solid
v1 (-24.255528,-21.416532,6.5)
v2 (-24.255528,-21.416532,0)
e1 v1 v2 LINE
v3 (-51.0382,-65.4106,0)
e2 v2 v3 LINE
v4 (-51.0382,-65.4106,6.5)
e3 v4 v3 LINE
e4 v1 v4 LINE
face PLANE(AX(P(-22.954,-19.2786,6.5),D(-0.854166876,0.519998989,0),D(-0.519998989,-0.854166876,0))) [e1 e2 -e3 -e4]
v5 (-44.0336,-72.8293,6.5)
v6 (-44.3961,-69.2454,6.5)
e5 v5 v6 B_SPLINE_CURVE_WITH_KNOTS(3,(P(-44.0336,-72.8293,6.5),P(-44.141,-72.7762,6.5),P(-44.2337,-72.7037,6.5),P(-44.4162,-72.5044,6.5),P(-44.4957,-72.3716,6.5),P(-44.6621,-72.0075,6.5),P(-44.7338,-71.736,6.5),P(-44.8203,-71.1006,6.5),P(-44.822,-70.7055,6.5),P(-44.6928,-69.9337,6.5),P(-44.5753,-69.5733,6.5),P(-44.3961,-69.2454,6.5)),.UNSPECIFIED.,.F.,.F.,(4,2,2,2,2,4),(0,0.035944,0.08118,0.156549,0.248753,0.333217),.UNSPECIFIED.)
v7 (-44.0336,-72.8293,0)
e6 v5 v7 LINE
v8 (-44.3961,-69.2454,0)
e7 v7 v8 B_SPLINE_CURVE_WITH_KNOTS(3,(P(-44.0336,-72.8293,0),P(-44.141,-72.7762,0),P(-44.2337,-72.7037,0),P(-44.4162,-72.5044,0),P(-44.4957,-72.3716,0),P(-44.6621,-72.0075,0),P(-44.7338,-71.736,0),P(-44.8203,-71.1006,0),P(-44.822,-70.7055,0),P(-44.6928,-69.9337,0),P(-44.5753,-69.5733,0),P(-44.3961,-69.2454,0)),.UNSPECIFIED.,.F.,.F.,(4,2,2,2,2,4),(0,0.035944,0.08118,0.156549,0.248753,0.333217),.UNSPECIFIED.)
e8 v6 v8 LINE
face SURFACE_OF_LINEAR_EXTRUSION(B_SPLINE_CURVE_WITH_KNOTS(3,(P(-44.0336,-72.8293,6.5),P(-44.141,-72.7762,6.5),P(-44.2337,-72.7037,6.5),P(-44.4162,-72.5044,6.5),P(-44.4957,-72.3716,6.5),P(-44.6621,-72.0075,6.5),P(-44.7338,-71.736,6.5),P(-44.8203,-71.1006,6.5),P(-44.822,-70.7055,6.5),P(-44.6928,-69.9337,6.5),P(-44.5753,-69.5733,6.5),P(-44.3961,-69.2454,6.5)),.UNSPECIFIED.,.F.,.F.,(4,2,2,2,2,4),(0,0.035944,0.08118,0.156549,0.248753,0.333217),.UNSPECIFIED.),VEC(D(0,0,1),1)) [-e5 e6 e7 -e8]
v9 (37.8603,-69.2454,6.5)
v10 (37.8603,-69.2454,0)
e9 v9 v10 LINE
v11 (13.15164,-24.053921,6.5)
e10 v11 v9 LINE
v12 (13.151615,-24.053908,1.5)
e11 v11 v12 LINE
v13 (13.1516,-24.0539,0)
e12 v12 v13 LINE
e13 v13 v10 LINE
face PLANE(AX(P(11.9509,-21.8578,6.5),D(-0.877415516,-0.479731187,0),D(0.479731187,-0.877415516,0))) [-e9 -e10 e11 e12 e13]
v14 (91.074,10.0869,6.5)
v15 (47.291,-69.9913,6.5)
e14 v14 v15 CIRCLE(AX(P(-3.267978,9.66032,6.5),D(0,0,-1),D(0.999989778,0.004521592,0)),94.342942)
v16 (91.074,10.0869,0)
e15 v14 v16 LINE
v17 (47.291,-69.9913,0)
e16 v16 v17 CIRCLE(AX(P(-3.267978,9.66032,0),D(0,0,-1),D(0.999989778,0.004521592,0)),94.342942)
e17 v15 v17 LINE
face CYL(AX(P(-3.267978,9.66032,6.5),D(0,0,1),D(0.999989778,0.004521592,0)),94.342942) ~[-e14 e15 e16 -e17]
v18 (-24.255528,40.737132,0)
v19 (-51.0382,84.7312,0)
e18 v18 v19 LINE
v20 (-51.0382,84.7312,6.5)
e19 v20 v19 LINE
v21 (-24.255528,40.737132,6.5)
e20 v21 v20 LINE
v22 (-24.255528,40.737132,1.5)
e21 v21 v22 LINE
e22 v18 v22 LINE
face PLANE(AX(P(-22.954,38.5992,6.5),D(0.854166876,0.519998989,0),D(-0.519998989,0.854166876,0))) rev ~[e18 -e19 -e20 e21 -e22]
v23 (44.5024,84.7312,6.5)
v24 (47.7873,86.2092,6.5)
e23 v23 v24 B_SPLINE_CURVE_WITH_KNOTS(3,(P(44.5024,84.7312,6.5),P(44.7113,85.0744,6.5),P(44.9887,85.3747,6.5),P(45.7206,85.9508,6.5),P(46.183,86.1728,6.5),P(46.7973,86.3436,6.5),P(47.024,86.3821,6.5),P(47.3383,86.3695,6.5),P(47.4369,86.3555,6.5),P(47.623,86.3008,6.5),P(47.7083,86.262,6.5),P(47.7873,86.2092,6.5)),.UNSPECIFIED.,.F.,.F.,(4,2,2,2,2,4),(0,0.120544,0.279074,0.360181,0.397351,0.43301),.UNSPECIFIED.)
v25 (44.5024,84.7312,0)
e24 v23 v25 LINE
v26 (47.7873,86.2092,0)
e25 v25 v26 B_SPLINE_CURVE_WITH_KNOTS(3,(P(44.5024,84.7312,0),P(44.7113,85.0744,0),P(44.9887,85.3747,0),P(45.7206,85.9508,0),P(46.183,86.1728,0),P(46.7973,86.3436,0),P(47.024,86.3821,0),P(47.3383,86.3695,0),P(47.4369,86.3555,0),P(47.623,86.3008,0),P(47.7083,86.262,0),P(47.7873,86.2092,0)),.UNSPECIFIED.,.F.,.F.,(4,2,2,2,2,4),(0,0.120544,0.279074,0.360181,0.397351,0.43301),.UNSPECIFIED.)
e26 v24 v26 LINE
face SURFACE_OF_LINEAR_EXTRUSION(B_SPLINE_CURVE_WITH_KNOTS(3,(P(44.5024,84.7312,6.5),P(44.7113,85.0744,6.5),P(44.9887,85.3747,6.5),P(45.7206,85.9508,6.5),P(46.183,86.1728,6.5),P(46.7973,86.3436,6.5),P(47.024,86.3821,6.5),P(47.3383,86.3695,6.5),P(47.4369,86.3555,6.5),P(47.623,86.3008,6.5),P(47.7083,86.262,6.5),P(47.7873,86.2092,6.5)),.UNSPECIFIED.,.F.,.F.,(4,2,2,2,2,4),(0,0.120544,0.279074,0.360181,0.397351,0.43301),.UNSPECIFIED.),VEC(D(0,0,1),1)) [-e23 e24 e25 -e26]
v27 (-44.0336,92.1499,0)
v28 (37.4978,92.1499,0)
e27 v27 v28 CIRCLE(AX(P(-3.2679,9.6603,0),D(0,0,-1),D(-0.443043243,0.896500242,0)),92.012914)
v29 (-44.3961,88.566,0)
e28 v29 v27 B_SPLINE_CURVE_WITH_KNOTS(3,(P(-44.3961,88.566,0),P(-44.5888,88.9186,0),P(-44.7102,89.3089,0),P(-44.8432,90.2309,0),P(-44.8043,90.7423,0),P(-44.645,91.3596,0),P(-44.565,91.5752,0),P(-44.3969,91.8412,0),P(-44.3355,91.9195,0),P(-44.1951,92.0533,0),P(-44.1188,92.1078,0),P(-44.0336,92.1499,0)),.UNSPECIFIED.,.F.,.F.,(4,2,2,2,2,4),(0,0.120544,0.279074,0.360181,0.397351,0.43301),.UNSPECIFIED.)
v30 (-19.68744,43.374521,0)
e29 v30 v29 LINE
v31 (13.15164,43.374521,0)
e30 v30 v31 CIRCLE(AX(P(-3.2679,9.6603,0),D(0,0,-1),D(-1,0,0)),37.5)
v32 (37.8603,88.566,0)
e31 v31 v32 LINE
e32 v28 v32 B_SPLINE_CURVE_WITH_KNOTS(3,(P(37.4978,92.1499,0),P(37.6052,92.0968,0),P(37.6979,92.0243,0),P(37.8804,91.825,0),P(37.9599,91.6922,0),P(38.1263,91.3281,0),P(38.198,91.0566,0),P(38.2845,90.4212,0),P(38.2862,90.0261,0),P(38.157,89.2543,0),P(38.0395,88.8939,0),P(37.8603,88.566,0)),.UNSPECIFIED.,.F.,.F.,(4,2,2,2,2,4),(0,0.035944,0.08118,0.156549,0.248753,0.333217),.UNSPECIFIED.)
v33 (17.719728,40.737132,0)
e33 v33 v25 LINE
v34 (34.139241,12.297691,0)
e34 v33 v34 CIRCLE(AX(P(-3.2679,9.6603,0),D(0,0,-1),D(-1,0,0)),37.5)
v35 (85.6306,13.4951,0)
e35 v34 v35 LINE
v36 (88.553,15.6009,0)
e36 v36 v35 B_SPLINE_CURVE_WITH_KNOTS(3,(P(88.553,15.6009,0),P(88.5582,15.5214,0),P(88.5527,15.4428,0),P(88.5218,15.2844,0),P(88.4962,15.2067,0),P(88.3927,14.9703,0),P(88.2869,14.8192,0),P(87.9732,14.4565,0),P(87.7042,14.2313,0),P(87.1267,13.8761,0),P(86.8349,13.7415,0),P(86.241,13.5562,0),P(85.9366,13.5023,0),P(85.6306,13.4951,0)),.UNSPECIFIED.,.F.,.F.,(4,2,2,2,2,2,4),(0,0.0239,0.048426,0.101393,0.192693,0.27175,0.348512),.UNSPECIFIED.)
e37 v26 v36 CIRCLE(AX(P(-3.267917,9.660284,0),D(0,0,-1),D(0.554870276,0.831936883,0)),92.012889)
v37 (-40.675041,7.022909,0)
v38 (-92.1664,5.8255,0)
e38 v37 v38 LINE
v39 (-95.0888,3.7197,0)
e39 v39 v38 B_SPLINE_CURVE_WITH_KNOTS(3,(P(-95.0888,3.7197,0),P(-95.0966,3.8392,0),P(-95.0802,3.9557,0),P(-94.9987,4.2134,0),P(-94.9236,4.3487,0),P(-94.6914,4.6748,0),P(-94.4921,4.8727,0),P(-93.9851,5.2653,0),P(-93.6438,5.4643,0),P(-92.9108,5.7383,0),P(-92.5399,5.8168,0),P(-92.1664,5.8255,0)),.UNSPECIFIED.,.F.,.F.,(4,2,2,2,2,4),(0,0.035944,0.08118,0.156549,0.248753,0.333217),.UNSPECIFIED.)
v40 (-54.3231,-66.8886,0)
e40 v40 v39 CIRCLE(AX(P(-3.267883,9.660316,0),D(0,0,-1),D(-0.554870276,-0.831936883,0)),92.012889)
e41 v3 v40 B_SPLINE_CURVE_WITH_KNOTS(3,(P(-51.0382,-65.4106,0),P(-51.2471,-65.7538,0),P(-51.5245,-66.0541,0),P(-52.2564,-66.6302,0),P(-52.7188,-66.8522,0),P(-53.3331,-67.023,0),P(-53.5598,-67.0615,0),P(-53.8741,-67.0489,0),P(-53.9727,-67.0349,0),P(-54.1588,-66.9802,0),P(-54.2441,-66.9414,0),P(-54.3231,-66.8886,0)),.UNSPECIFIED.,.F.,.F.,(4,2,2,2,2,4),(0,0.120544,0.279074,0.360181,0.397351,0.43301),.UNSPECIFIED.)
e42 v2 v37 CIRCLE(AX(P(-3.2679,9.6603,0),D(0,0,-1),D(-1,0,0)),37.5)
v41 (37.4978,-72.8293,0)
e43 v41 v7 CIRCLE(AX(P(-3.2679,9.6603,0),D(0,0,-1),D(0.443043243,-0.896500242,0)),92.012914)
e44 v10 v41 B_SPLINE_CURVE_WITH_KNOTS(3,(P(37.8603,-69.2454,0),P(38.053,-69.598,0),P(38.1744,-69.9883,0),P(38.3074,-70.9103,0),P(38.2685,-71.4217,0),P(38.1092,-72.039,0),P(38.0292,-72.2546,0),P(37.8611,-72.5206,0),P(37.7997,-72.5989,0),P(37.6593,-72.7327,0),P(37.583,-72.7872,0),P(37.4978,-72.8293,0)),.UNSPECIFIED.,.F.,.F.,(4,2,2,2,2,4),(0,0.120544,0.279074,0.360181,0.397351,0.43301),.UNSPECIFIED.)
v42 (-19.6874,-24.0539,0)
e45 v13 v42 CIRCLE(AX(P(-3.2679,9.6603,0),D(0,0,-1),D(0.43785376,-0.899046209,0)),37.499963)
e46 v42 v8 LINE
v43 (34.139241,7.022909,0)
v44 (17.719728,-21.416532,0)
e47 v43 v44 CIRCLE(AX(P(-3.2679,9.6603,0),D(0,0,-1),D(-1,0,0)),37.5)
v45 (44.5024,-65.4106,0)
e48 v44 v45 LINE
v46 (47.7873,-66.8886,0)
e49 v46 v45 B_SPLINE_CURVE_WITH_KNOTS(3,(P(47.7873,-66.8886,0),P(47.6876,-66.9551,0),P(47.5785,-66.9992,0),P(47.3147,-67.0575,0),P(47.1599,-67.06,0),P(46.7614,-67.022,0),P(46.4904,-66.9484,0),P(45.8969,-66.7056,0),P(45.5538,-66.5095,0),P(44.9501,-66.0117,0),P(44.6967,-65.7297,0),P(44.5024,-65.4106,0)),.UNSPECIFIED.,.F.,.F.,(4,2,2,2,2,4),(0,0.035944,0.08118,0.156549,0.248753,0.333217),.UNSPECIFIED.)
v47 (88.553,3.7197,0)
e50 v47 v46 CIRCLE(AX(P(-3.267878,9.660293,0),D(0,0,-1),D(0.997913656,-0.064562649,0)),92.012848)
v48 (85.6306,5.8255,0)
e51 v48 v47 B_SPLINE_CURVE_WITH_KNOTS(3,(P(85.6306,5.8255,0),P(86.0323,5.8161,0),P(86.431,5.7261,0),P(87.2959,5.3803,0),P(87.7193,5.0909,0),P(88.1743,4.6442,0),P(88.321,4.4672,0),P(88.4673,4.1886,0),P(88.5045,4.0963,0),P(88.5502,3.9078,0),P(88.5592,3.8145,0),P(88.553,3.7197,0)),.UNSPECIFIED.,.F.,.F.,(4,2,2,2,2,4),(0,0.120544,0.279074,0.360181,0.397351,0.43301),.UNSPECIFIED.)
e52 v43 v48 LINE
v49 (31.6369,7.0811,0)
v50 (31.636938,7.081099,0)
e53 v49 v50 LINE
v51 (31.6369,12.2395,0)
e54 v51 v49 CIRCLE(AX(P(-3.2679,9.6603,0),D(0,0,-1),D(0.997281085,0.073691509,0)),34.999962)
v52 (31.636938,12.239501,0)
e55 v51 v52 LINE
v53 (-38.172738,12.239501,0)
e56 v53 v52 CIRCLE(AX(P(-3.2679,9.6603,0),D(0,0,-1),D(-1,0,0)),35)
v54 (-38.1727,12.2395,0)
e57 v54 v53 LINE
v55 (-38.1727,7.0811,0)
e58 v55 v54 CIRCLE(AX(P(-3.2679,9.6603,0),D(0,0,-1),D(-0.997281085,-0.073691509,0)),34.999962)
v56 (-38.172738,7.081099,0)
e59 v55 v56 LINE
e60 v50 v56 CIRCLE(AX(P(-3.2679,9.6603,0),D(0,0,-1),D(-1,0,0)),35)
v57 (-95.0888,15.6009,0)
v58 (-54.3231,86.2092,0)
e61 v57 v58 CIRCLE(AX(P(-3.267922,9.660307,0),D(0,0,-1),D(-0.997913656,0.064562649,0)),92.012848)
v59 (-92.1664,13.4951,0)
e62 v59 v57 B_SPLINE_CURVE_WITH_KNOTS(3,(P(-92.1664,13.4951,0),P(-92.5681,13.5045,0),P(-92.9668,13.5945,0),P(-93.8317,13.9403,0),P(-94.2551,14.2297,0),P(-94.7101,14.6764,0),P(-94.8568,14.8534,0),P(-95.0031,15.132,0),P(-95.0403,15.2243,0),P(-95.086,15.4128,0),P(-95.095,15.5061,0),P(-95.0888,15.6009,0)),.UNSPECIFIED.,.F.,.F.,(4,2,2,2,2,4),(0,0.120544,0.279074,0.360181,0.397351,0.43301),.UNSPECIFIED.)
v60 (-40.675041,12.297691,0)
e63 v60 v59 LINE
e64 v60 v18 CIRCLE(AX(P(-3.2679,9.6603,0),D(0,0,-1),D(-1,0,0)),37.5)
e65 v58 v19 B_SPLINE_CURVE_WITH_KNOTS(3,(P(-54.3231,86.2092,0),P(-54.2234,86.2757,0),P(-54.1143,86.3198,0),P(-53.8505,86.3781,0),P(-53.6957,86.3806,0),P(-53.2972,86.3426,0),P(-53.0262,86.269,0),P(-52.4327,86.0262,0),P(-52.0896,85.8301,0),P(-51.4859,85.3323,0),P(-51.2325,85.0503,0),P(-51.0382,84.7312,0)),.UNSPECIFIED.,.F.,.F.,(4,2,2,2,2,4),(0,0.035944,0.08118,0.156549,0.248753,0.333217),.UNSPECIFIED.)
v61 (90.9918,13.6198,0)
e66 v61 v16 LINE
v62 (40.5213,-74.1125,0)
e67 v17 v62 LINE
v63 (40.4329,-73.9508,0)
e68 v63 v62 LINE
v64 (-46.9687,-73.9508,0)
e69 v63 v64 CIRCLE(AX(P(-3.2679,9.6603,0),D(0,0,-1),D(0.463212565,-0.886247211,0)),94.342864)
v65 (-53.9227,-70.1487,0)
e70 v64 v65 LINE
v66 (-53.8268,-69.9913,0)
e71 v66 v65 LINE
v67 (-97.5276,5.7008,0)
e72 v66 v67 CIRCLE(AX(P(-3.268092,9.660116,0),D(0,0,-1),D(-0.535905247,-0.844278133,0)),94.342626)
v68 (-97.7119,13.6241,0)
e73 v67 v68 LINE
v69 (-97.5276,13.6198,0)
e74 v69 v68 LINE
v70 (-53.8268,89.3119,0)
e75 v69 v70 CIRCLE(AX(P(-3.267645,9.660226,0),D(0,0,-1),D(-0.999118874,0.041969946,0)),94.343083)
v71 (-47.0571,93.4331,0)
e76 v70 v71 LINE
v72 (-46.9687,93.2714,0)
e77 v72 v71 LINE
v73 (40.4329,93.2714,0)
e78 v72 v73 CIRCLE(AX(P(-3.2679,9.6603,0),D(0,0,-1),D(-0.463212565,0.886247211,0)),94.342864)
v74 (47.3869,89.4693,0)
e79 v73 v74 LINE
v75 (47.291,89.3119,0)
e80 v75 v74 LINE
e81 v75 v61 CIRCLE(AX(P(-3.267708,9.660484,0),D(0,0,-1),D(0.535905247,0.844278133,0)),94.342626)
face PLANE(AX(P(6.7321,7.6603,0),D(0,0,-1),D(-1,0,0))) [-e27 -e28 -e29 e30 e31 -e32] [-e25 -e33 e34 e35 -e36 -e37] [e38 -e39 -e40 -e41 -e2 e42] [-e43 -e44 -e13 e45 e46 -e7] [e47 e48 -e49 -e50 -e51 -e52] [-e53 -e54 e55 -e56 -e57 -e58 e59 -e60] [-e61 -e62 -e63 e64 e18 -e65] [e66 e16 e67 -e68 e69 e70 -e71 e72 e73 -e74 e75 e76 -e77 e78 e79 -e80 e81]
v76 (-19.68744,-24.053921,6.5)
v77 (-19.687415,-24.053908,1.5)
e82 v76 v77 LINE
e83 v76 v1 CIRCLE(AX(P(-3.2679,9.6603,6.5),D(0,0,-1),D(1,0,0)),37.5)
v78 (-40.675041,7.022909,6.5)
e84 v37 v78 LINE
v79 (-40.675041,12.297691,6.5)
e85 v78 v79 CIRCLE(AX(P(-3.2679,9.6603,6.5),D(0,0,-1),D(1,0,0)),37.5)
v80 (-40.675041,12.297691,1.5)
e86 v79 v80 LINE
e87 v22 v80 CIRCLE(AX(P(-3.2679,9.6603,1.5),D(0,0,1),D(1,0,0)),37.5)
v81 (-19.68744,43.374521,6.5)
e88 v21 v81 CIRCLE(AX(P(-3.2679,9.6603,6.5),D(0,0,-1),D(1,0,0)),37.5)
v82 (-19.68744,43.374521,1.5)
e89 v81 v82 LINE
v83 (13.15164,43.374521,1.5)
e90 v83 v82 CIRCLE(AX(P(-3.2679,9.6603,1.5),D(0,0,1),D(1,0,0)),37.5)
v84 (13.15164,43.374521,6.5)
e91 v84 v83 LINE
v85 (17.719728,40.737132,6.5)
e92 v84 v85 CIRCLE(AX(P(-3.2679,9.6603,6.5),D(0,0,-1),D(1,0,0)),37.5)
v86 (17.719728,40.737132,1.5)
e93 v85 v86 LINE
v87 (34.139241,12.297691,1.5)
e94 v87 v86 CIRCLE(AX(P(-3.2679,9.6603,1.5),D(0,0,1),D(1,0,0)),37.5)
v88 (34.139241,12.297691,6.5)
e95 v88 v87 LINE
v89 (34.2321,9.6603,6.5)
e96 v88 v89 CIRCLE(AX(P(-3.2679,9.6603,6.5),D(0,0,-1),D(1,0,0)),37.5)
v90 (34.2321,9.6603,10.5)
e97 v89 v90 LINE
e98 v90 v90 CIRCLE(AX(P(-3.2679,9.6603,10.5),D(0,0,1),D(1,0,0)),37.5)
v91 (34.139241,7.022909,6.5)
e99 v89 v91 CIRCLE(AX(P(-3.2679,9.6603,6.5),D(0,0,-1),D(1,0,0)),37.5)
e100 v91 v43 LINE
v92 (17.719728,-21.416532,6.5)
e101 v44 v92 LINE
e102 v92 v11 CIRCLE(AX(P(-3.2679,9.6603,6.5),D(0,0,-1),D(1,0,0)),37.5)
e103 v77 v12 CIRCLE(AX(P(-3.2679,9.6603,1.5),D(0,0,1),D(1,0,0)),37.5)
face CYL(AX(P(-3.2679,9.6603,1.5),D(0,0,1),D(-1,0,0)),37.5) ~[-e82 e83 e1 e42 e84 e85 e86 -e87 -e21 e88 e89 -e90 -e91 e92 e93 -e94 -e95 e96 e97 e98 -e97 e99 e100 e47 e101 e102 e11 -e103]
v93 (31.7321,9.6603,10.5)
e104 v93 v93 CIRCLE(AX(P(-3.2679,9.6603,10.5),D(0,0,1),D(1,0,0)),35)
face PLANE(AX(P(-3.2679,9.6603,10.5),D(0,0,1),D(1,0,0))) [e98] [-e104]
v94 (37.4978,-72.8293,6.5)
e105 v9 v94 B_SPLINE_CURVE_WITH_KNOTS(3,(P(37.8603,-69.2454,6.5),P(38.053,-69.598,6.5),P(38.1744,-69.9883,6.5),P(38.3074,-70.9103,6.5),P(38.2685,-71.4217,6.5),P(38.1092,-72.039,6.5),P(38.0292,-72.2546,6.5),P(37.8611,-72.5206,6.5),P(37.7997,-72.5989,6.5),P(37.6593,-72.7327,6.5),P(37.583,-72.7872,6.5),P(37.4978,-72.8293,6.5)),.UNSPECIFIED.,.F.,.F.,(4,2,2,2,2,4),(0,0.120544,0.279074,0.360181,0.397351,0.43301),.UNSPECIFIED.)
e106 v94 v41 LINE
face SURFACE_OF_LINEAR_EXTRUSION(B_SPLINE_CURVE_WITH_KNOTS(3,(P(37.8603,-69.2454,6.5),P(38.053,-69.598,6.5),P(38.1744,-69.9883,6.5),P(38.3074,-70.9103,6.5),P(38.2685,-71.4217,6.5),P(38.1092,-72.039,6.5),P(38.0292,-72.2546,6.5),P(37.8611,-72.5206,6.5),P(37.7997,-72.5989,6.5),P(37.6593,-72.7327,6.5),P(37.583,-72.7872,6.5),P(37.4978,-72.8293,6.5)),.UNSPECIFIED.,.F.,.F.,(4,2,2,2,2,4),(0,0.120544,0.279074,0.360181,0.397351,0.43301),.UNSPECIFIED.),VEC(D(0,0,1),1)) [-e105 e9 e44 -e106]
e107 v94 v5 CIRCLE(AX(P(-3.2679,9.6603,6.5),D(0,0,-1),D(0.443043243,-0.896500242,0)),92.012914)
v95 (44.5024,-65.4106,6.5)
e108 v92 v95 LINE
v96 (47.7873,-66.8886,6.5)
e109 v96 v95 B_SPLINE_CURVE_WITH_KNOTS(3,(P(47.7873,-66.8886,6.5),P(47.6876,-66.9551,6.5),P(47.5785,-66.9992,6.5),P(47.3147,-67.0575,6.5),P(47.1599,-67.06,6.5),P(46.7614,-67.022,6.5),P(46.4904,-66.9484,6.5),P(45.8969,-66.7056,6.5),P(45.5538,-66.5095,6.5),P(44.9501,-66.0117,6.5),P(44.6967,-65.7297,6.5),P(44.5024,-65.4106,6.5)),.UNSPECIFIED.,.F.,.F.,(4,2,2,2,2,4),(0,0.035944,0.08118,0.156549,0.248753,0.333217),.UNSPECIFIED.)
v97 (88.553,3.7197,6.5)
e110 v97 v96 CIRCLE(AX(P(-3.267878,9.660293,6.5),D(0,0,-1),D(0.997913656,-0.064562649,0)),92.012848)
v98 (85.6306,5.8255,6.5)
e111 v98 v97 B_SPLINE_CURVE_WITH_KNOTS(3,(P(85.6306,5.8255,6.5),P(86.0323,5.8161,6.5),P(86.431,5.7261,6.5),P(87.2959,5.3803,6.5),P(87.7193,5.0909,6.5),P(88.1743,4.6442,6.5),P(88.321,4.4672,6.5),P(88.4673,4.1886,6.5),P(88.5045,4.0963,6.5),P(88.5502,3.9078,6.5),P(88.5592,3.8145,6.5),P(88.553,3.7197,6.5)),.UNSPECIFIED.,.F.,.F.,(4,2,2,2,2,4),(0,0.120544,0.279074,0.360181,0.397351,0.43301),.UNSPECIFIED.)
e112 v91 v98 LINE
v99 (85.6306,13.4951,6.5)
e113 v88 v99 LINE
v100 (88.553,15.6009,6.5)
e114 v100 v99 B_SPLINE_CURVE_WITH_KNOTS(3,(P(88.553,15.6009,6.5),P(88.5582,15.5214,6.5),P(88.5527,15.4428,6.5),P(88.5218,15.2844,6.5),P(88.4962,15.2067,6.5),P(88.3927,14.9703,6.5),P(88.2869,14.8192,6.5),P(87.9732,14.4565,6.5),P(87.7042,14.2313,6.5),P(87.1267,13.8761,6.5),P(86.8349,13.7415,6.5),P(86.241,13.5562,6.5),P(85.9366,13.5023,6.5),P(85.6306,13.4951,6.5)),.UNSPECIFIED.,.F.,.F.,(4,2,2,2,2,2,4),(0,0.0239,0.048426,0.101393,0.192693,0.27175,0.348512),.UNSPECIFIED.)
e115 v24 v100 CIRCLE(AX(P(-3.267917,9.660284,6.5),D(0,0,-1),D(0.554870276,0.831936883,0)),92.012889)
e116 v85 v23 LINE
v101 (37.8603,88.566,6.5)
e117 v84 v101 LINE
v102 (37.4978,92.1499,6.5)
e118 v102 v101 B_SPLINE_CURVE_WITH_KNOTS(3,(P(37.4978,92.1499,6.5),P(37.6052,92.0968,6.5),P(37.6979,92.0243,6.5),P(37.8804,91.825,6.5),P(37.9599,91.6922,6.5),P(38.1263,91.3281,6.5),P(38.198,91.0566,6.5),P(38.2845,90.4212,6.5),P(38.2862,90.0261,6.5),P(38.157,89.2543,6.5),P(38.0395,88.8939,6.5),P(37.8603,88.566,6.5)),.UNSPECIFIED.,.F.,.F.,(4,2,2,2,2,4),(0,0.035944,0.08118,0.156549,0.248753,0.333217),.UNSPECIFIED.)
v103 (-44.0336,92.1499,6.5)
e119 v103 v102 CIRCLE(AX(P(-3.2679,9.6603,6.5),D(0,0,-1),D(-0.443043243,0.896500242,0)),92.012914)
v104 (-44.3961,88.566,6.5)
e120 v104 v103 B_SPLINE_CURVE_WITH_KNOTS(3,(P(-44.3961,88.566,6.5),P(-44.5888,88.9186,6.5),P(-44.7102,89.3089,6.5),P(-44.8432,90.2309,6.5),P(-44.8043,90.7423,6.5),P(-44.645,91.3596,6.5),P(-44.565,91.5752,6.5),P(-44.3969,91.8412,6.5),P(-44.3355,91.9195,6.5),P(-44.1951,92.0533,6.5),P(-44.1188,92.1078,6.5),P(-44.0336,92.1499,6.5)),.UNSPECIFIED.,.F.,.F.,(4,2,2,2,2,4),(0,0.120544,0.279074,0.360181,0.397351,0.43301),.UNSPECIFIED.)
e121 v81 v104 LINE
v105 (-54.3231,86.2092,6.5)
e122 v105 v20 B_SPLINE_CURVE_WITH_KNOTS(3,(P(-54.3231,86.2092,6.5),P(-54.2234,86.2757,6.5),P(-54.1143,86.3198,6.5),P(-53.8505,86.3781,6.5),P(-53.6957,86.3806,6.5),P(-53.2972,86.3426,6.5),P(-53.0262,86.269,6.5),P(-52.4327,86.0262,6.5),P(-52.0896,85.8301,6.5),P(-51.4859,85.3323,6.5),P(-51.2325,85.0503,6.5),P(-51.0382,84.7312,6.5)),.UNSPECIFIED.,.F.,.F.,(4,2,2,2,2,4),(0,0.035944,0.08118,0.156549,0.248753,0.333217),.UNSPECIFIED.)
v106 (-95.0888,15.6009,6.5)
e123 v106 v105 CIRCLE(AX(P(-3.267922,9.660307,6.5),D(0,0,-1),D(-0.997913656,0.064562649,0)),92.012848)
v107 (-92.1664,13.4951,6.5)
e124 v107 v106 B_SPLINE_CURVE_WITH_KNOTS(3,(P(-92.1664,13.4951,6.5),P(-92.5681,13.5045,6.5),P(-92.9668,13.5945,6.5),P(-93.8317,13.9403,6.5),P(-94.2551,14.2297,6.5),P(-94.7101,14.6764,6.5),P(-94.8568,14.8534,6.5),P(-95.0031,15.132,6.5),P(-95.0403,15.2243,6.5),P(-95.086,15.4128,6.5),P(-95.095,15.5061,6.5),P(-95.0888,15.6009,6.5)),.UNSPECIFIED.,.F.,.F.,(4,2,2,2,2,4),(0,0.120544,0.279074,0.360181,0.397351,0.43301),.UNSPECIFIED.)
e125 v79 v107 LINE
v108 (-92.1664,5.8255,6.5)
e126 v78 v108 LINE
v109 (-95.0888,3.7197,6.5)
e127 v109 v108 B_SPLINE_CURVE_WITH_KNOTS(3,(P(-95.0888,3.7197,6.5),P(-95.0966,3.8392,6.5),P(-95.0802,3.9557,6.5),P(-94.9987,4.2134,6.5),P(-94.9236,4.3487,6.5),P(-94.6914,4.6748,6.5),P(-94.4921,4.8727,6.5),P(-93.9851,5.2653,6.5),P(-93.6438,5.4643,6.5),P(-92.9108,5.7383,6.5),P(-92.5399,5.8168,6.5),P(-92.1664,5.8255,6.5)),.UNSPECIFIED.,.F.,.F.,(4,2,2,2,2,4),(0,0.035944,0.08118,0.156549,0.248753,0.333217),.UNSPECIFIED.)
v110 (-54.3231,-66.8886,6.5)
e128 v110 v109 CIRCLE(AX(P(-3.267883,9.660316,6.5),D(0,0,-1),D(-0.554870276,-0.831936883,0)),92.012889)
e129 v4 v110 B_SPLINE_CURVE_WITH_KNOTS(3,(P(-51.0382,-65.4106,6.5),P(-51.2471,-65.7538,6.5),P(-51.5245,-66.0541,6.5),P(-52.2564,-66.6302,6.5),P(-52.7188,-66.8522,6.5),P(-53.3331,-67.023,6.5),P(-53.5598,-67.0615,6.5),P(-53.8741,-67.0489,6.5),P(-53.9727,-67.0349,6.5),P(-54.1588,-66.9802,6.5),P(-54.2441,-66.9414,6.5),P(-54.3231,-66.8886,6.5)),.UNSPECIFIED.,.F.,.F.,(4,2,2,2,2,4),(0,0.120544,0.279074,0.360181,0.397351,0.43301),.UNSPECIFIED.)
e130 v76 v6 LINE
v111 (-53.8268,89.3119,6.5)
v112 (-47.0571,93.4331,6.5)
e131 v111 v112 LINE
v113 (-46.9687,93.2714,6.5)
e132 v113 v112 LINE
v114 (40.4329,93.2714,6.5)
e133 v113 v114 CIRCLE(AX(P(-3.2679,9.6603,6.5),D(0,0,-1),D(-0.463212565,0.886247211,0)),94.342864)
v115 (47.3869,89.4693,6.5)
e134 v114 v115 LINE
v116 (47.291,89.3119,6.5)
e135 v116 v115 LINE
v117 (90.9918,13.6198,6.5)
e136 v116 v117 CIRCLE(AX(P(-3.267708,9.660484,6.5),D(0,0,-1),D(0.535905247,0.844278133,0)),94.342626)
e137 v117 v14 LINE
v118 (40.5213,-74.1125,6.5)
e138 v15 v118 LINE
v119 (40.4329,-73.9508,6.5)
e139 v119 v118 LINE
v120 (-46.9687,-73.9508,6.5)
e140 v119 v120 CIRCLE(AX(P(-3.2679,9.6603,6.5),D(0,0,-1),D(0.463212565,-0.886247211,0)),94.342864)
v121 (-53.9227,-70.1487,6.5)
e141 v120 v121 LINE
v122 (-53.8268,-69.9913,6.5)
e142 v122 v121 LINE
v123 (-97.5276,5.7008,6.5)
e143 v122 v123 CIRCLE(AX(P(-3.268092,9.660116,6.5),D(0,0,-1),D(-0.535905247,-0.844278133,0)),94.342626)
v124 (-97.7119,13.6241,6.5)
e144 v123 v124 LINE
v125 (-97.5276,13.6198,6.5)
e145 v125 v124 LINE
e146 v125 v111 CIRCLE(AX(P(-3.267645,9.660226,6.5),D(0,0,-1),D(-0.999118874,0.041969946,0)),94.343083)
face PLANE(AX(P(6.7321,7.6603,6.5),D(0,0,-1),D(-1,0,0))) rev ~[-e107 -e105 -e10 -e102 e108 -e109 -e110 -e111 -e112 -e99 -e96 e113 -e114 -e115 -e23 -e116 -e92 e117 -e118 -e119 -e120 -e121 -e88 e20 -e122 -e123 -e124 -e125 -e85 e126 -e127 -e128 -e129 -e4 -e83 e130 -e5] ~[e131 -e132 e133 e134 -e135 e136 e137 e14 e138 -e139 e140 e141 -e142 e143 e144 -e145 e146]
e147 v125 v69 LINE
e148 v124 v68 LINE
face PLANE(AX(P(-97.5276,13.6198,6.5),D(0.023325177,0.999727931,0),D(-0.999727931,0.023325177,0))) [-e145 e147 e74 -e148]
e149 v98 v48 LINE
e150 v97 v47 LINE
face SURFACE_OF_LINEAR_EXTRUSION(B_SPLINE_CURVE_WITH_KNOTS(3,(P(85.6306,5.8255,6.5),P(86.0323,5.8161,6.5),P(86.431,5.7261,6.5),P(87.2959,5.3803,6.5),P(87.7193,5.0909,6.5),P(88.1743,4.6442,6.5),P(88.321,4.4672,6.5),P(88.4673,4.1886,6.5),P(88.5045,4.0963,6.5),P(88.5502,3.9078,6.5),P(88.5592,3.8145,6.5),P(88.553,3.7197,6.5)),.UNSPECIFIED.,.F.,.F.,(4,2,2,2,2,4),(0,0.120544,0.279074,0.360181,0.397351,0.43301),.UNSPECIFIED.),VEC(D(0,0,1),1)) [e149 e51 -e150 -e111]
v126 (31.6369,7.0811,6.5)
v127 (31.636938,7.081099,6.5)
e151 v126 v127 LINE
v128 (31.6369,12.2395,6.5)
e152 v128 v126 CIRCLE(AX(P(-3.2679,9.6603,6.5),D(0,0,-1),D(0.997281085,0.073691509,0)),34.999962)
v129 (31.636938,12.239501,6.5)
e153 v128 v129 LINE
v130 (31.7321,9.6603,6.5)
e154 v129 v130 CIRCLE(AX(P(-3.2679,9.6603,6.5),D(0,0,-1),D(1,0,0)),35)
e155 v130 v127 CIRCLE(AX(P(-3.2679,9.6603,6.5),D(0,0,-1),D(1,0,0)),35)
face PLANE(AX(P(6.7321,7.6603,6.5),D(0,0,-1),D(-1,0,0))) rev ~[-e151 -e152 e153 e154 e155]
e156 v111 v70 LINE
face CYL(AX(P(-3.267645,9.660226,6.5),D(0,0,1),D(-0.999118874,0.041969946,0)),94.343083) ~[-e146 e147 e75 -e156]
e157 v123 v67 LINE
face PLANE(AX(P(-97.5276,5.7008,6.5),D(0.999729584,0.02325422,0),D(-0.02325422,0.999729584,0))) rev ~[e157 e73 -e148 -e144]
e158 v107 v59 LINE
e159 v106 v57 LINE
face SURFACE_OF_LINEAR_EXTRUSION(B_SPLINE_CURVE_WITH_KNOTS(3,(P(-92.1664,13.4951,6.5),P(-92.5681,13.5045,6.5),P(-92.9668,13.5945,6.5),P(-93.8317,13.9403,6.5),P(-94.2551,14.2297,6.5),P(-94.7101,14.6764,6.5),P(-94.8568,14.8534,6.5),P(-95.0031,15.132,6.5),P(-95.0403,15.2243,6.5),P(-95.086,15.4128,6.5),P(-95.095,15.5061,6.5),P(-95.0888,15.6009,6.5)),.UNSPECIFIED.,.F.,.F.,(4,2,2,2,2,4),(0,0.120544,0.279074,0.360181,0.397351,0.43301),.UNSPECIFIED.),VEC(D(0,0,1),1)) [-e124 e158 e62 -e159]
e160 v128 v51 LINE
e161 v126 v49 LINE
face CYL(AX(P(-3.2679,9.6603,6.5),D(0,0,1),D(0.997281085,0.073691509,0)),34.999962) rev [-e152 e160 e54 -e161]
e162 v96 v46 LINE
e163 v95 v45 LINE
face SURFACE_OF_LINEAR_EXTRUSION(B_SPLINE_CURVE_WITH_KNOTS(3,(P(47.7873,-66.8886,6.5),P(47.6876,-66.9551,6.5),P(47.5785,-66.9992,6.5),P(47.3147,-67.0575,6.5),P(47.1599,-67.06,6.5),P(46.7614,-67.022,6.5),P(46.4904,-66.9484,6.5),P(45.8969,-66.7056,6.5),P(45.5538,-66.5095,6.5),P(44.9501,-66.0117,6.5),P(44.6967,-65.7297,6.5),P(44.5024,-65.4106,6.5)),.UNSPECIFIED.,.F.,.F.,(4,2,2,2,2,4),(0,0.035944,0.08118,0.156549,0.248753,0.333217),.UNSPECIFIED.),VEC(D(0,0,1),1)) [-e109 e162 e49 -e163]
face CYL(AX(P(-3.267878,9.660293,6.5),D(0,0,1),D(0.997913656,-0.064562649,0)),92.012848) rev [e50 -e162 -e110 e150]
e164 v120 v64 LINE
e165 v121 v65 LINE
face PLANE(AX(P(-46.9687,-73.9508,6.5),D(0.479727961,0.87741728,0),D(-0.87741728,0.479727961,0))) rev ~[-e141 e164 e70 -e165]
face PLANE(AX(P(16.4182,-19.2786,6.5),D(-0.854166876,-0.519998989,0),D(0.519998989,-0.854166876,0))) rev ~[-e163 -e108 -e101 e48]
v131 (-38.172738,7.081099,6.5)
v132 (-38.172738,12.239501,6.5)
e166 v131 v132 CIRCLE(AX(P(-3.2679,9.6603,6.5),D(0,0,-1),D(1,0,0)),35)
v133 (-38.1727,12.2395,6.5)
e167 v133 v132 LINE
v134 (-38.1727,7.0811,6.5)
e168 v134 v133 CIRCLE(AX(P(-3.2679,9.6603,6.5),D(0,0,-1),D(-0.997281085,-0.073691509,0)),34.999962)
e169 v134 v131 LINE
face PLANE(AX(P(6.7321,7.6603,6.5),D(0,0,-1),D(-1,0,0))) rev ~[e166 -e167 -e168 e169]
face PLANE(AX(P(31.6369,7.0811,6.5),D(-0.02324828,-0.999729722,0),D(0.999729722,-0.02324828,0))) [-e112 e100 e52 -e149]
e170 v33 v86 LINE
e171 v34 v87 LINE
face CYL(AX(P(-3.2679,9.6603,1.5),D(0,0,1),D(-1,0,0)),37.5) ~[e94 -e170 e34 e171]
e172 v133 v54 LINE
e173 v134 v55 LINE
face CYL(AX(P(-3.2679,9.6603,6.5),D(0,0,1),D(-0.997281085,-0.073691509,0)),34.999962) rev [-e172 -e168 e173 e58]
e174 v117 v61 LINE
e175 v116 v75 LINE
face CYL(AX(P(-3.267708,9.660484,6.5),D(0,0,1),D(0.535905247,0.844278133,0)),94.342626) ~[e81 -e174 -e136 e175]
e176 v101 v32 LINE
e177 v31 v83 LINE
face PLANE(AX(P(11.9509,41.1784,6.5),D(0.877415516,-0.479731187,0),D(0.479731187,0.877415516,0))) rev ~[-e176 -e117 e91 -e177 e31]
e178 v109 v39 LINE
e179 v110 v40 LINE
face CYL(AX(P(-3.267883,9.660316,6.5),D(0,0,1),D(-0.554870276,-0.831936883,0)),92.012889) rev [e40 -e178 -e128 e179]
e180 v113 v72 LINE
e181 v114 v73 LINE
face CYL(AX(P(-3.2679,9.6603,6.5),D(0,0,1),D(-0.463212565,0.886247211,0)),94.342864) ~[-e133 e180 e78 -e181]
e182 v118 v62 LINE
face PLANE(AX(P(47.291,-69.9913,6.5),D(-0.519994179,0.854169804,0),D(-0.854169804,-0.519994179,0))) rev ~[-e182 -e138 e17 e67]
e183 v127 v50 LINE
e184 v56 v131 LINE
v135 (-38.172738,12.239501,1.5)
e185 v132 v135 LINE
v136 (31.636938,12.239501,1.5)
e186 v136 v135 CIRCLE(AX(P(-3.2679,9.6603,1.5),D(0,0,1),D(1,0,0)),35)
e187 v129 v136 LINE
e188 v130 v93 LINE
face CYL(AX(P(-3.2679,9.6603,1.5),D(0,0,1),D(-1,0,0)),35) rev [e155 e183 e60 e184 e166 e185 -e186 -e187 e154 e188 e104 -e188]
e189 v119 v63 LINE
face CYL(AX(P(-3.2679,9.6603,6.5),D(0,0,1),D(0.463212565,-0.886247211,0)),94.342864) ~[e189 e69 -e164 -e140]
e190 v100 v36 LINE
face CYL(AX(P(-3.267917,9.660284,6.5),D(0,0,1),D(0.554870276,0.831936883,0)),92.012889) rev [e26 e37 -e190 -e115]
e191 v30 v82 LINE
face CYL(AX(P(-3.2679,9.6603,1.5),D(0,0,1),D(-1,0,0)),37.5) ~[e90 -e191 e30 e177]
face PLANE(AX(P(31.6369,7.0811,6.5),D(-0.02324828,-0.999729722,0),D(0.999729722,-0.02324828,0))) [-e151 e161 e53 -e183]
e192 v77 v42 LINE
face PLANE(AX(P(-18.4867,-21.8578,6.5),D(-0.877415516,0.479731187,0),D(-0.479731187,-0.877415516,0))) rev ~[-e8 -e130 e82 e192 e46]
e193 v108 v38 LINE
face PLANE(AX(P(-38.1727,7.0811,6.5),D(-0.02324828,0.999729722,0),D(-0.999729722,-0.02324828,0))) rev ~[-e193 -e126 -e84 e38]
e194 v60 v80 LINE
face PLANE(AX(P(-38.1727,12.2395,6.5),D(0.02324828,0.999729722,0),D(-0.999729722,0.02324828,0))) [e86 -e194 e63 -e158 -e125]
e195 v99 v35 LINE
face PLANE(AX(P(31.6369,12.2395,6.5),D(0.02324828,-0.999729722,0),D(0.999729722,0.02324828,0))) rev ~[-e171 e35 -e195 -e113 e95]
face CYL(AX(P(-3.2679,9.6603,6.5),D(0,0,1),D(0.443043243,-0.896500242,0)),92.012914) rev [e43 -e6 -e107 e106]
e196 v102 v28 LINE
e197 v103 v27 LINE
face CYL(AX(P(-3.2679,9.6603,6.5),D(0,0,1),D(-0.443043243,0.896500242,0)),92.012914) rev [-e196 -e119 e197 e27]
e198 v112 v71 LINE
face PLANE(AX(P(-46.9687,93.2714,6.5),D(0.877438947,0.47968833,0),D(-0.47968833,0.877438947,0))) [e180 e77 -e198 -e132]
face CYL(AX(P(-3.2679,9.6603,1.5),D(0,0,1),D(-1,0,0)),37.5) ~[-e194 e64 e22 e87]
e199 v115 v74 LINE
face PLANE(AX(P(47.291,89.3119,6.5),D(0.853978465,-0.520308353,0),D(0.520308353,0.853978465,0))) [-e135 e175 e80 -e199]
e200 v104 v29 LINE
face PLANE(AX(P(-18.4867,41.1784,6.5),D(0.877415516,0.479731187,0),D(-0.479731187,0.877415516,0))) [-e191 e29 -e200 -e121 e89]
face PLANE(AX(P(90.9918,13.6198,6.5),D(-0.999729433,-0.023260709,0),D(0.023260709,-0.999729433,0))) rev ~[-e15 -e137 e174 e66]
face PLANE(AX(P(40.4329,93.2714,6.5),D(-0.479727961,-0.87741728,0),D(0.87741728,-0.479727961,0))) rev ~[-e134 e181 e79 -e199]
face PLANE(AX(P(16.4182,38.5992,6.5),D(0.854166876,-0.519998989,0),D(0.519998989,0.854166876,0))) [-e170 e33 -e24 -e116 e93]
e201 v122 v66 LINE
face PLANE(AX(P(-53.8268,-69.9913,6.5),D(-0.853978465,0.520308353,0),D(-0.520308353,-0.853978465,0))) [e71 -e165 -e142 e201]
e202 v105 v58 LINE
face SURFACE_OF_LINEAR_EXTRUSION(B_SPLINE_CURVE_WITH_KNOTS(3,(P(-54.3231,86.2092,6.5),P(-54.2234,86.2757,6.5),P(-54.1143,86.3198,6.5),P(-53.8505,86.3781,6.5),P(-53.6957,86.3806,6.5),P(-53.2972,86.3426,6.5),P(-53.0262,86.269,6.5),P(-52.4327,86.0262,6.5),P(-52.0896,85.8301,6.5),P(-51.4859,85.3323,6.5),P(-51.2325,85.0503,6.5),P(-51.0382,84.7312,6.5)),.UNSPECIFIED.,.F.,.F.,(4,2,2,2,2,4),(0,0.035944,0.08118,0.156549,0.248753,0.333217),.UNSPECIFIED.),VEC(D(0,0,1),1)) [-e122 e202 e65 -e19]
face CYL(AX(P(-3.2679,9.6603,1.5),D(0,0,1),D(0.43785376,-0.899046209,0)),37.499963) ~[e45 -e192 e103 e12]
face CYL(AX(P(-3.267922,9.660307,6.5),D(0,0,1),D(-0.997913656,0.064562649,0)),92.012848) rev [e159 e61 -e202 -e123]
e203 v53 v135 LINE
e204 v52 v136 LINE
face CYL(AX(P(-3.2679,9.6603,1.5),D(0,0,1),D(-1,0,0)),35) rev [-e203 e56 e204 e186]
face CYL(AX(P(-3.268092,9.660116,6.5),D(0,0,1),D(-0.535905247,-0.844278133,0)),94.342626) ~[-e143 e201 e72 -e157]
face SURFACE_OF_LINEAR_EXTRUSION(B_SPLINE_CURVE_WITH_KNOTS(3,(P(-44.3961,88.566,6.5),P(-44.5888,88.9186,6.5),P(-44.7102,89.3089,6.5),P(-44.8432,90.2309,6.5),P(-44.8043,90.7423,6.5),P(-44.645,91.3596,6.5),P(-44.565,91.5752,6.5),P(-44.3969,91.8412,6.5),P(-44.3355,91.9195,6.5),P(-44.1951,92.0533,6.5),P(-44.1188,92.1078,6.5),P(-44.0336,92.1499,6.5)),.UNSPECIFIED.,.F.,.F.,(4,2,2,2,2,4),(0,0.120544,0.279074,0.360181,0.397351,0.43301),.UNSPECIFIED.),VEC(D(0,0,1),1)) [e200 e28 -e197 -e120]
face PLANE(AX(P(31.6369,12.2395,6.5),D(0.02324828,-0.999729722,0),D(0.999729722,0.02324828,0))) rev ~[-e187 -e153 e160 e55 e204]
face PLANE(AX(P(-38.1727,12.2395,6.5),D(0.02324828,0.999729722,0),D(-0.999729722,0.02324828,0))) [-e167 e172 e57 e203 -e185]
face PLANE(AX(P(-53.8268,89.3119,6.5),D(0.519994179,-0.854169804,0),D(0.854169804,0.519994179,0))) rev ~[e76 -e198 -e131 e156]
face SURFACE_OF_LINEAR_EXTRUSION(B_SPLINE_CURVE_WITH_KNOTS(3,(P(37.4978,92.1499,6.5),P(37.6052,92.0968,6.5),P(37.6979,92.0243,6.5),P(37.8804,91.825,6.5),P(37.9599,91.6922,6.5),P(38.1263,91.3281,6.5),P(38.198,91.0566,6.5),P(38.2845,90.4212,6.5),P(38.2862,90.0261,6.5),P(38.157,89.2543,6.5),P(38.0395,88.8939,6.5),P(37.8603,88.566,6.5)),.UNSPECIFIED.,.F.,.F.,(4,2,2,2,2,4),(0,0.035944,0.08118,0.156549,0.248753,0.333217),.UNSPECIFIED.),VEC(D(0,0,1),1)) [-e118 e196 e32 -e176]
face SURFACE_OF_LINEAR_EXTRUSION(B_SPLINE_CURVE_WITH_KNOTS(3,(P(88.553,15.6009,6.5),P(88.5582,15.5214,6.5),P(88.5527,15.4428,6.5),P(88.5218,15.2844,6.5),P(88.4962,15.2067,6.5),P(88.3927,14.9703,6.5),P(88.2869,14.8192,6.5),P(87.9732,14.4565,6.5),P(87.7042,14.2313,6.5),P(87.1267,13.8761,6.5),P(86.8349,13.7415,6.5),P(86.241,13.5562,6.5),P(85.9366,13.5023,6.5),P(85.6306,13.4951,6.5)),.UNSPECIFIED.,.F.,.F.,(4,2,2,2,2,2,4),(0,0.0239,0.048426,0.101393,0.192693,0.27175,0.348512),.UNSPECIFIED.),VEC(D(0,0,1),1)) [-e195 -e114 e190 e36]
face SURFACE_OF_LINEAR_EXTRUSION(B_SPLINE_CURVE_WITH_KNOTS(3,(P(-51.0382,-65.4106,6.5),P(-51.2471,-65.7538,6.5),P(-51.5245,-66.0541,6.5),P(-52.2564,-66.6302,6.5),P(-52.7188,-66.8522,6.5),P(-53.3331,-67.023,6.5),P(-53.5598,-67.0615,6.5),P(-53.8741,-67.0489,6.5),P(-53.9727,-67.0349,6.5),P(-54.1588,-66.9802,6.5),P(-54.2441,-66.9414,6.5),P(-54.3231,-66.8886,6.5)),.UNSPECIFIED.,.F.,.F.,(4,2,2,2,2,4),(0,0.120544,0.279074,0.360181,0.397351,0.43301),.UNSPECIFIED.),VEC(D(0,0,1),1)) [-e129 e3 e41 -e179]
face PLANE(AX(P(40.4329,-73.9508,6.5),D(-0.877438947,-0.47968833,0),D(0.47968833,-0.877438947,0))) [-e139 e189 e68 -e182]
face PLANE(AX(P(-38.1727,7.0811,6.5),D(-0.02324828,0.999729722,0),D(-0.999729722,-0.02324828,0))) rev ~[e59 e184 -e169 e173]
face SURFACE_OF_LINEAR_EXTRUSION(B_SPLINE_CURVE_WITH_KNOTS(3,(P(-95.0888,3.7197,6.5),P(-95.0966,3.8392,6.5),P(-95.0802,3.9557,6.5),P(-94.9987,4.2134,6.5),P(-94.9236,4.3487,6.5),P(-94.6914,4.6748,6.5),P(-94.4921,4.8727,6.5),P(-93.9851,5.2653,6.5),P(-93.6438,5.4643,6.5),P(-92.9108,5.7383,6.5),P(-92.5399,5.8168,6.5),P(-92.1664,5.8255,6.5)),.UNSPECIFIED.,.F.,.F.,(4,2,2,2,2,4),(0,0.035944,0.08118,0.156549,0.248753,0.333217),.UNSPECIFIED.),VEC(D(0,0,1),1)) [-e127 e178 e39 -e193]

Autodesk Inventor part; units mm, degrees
ref_plane "Work Plane1" through (6.7321, 7.6603, 6.5) normal (0, 0, -1) x (-1, 0, 0)
ref_plane "Work Plane2" through (-91.9966, 5.6978, 0) normal (0, 0, 1) x (1, 0, 0)
sketch "Sketch2" plane through (6.7321, 7.6603, 6.5) normal (0, 0, -1) x (-1, 0, 0)
  arc A0 (-24.9048, 4.5792) -> (-24.9048, -0.5792) centre (10, 2) ccw projected
  line L0 (-24.9048, 4.5792) -> (-78.8985, 5.8348) projected
  spline S0 degree 3 poles (-81.8209, 7.9406) (-81.8261, 7.8611) (-81.8206, 7.7825) (-81.7897, 7.6241) (-81.7641, 7.5464) (-81.6606, 7.31) (-81.5548, 7.1589) (-81.2411, 6.7962) (-80.9721, 6.571) (-80.3946, 6.2158) (-80.1028, 6.0812) (-79.5089, 5.8959) (-79.2045, 5.842) (-78.8985, 5.8348) knots 0 0 0 0 0.0239 0.0239 0.048426 0.048426 0.101393 0.101393 0.192693 0.192693 0.27175 0.27175 0.348512 0.348512 0.348512 0.348512 projected
  arc A1 (-41.0552, 78.5489) -> (-81.8209, 7.9406) centre (10, 2) ccw projected
  spline S1 degree 3 poles (-37.7703, 77.0709) (-37.9792, 77.4141) (-38.2566, 77.7144) (-38.9885, 78.2905) (-39.4509, 78.5125) (-40.0652, 78.6833) (-40.2919, 78.7218) (-40.6062, 78.7092) (-40.7048, 78.6952) (-40.8909, 78.6405) (-40.9762, 78.6017) (-41.0552, 78.5489) knots 0 0 0 0 0.120544 0.120544 0.279074 0.279074 0.360181 0.360181 0.397351 0.397351 0.43301 0.43301 0.43301 0.43301 projected
  line L1 (-9.6861, 30.9389) -> (-37.7703, 77.0709) projected
  arc A2 (-5.2188, 33.5181) -> (-9.6861, 30.9389) centre (10, 2) ccw projected
  line L2 (-5.2188, 33.5181) -> (-31.1282, 80.9057) projected
  spline S2 degree 3 poles (-30.7657, 84.4896) (-30.8731, 84.4365) (-30.9658, 84.364) (-31.1483, 84.1647) (-31.2278, 84.0319) (-31.3942, 83.6678) (-31.4659, 83.3963) (-31.5524, 82.7609) (-31.5541, 82.3658) (-31.4249, 81.594) (-31.3074, 81.2336) (-31.1282, 80.9057) knots 0 0 0 0 0.035944 0.035944 0.08118 0.08118 0.156549 0.156549 0.248753 0.248753 0.333217 0.333217 0.333217 0.333217 projected
  arc A3 (50.7657, 84.4896) -> (-30.7657, 84.4896) centre (10, 2) ccw projected
  spline S3 degree 3 poles (51.1282, 80.9057) (51.3209, 81.2583) (51.4423, 81.6486) (51.5753, 82.5706) (51.5364, 83.082) (51.3771, 83.6993) (51.2971, 83.9149) (51.129, 84.1809) (51.0676, 84.2592) (50.9272, 84.393) (50.8509, 84.4475) (50.7657, 84.4896) knots 0 0 0 0 0.120544 0.120544 0.279074 0.279074 0.360181 0.360181 0.397351 0.397351 0.43301 0.43301 0.43301 0.43301 projected
  line L3 (25.2188, 33.5181) -> (51.1282, 80.9057) projected
  arc A4 (29.6861, 30.9389) -> (25.2188, 33.5181) centre (10, 2) ccw projected
  line L4 (29.6861, 30.9389) -> (57.7703, 77.0709) projected
  spline S4 degree 3 poles (61.0552, 78.5489) (60.9555, 78.6154) (60.8464, 78.6595) (60.5826, 78.7178) (60.4278, 78.7203) (60.0293, 78.6823) (59.7583, 78.6087) (59.1648, 78.3659) (58.8217, 78.1698) (58.218, 77.672) (57.9646, 77.39) (57.7703, 77.0709) knots 0 0 0 0 0.035944 0.035944 0.08118 0.08118 0.156549 0.156549 0.248753 0.248753 0.333217 0.333217 0.333217 0.333217 projected
  arc A5 (101.8209, 7.9406) -> (61.0552, 78.5489) centre (10, 2) ccw projected
  spline S5 degree 3 poles (98.8985, 5.8348) (99.3002, 5.8442) (99.6989, 5.9342) (100.5638, 6.28) (100.9872, 6.5694) (101.4422, 7.0161) (101.5889, 7.1931) (101.7352, 7.4717) (101.7724, 7.564) (101.8181, 7.7525) (101.8271, 7.8458) (101.8209, 7.9406) knots 0 0 0 0 0.120544 0.120544 0.279074 0.279074 0.360181 0.360181 0.397351 0.397351 0.43301 0.43301 0.43301 0.43301 projected
  line L5 (44.9048, 4.5792) -> (98.8985, 5.8348) projected
  arc A6 (44.9048, -0.5792) -> (44.9048, 4.5792) centre (10, 2) ccw projected
  line L6 (44.9048, -0.5792) -> (98.8985, -1.8348) projected
  spline S6 degree 3 poles (101.8209, -3.9406) (101.8287, -3.8211) (101.8123, -3.7046) (101.7308, -3.4469) (101.6557, -3.3116) (101.4235, -2.9855) (101.2242, -2.7876) (100.7172, -2.395) (100.3759, -2.196) (99.6429, -1.922) (99.272, -1.8435) (98.8985, -1.8348) knots 0 0 0 0 0.035944 0.035944 0.08118 0.08118 0.156549 0.156549 0.248753 0.248753 0.333217 0.333217 0.333217 0.333217 projected
  arc A7 (61.0552, -74.5489) -> (101.8209, -3.9406) centre (10, 2) ccw projected
  spline S7 degree 3 poles (57.7703, -73.0709) (57.9792, -73.4141) (58.2566, -73.7144) (58.9885, -74.2905) (59.4509, -74.5125) (60.0652, -74.6833) (60.2919, -74.7218) (60.6062, -74.7092) (60.7048, -74.6952) (60.8909, -74.6405) (60.9762, -74.6017) (61.0552, -74.5489) knots 0 0 0 0 0.120544 0.120544 0.279074 0.279074 0.360181 0.360181 0.397351 0.397351 0.43301 0.43301 0.43301 0.43301 projected
  line L7 (29.6861, -26.9389) -> (57.7703, -73.0709) projected
  arc A8 (25.2188, -29.5181) -> (29.6861, -26.9389) centre (10, 2) ccw projected
  line L8 (25.2188, -29.5181) -> (51.1282, -76.9057) projected
  spline S8 degree 3 poles (50.7657, -80.4896) (50.8731, -80.4365) (50.9658, -80.364) (51.1483, -80.1647) (51.2278, -80.0319) (51.3942, -79.6678) (51.4659, -79.3963) (51.5524, -78.7609) (51.5541, -78.3658) (51.4249, -77.594) (51.3074, -77.2336) (51.1282, -76.9057) knots 0 0 0 0 0.035944 0.035944 0.08118 0.08118 0.156549 0.156549 0.248753 0.248753 0.333217 0.333217 0.333217 0.333217 projected
  arc A9 (-30.7657, -80.4896) -> (50.7657, -80.4896) centre (10, 2) ccw projected
  spline S9 degree 3 poles (-31.1282, -76.9057) (-31.3209, -77.2583) (-31.4423, -77.6486) (-31.5753, -78.5706) (-31.5364, -79.082) (-31.3771, -79.6993) (-31.2971, -79.9149) (-31.129, -80.1809) (-31.0676, -80.2592) (-30.9272, -80.393) (-30.8509, -80.4475) (-30.7657, -80.4896) knots 0 0 0 0 0.120544 0.120544 0.279074 0.279074 0.360181 0.360181 0.397351 0.397351 0.43301 0.43301 0.43301 0.43301 projected
  line L9 (-5.2188, -29.5181) -> (-31.1282, -76.9057) projected
  arc A10 (-9.6861, -26.9389) -> (-5.2188, -29.5181) centre (10, 2) ccw projected
  line L10 (-9.6861, -26.9389) -> (-37.7703, -73.0709) projected
  spline S10 degree 3 poles (-41.0552, -74.5489) (-40.9555, -74.6154) (-40.8464, -74.6595) (-40.5826, -74.7178) (-40.4278, -74.7203) (-40.0293, -74.6823) (-39.7583, -74.6087) (-39.1648, -74.3659) (-38.8217, -74.1698) (-38.218, -73.672) (-37.9646, -73.39) (-37.7703, -73.0709) knots 0 0 0 0 0.035944 0.035944 0.08118 0.08118 0.156549 0.156549 0.248753 0.248753 0.333217 0.333217 0.333217 0.333217 projected
  arc A11 (-81.8209, -3.9406) -> (-41.0552, -74.5489) centre (10, 2) ccw projected
  spline S11 degree 3 poles (-78.8985, -1.8348) (-79.3002, -1.8442) (-79.6989, -1.9342) (-80.5638, -2.28) (-80.9872, -2.5694) (-81.4422, -3.0161) (-81.5889, -3.1931) (-81.7352, -3.4717) (-81.7724, -3.564) (-81.8181, -3.7525) (-81.8271, -3.8458) (-81.8209, -3.9406) knots 0 0 0 0 0.120544 0.120544 0.279074 0.279074 0.360181 0.360181 0.397351 0.397351 0.43301 0.43301 0.43301 0.43301 projected
  line L11 (-24.9048, -0.5792) -> (-78.8985, -1.8348) projected
  line L12 (-84.2597, 5.9595) -> (-84.3419, 2.4266) projected
  arc A12 (-84.3419, 2.4266) -> (-40.5589, -77.6516) centre (10, 2) ccw projected
  line L13 (-40.5589, -77.6516) -> (-33.7892, -81.7728) projected
  line L14 (-33.7008, -81.6111) -> (-33.7892, -81.7728) projected
  arc A13 (-33.7008, -81.6111) -> (53.7008, -81.6111) centre (10, 2) ccw projected
  line L15 (53.7008, -81.6111) -> (60.6548, -77.809) projected
  line L16 (60.5589, -77.6516) -> (60.6548, -77.809) projected
  arc A14 (60.5589, -77.6516) -> (104.2597, -1.9595) centre (10, 2) ccw projected
  line L17 (104.2597, -1.9595) -> (104.444, 5.9638) projected
  line L18 (104.2597, 5.9595) -> (104.444, 5.9638) projected
  arc A15 (104.2597, 5.9595) -> (60.5589, 81.6516) centre (10, 2) ccw projected
  line L19 (60.5589, 81.6516) -> (53.7892, 85.7728) projected
  line L20 (53.7008, 85.6111) -> (53.7892, 85.7728) projected
  arc A16 (53.7008, 85.6111) -> (-33.7008, 85.6111) centre (10, 2) ccw projected
  line L21 (-33.7008, 85.6111) -> (-40.6548, 81.809) projected
  line L22 (-40.5589, 81.6516) -> (-40.6548, 81.809) projected
  arc A17 (-40.5589, 81.6516) -> (-84.2597, 5.9595) centre (10, 2) ccw projected
  point P0 (6.7321, -7.6603)
extrude "Extrusion1" add sketch "Sketch2" along normal up to surface (6.5 mm away)
ref_plane "Work Plane3" through (-3.2679, 9.6603, 1.5) normal (0, 0, 1) x (1, 0, 0)
sketch "Sketch3" plane through (-3.2679, 9.6603, 1.5) normal (0, 0, 1) x (1, 0, 0)
  circle A0 centre (0, 0) radius 35
  circle A1 centre (0, 0) radius 37.5
  point P0 (3.2679, -9.6603)
  dimension "d2" = 70
  dimension "d3" = 75
ref_plane "Work Plane4" through (11.9508, 38.5991, 10.5) normal (0, 0, 1) x (1, 0, 0)
extrude "Extrusion2" add sketch "Sketch3" along normal up to surface (9 mm away)
sketch "Sketch4" plane through (-3.2679, 9.6603, 1.5) normal (0, 0, -1) x (-1, 0, 0)
  arc A0 (-16.4195, -33.7142) -> (16.4195, -33.7142) centre (0, 0) ccw projected
  circle A1 centre (0, 0) radius 35
  circle A2 centre (0, 0) radius 37.5
  point P0 (-3.2679, -9.6603)
  dimension "d6" = 70
  dimension "d7" = 75
extrude "Extrusion3" add sketch "Sketch4" along normal up to surface (1.5 mm away)
properties part number "Wheel-190D-Join"
